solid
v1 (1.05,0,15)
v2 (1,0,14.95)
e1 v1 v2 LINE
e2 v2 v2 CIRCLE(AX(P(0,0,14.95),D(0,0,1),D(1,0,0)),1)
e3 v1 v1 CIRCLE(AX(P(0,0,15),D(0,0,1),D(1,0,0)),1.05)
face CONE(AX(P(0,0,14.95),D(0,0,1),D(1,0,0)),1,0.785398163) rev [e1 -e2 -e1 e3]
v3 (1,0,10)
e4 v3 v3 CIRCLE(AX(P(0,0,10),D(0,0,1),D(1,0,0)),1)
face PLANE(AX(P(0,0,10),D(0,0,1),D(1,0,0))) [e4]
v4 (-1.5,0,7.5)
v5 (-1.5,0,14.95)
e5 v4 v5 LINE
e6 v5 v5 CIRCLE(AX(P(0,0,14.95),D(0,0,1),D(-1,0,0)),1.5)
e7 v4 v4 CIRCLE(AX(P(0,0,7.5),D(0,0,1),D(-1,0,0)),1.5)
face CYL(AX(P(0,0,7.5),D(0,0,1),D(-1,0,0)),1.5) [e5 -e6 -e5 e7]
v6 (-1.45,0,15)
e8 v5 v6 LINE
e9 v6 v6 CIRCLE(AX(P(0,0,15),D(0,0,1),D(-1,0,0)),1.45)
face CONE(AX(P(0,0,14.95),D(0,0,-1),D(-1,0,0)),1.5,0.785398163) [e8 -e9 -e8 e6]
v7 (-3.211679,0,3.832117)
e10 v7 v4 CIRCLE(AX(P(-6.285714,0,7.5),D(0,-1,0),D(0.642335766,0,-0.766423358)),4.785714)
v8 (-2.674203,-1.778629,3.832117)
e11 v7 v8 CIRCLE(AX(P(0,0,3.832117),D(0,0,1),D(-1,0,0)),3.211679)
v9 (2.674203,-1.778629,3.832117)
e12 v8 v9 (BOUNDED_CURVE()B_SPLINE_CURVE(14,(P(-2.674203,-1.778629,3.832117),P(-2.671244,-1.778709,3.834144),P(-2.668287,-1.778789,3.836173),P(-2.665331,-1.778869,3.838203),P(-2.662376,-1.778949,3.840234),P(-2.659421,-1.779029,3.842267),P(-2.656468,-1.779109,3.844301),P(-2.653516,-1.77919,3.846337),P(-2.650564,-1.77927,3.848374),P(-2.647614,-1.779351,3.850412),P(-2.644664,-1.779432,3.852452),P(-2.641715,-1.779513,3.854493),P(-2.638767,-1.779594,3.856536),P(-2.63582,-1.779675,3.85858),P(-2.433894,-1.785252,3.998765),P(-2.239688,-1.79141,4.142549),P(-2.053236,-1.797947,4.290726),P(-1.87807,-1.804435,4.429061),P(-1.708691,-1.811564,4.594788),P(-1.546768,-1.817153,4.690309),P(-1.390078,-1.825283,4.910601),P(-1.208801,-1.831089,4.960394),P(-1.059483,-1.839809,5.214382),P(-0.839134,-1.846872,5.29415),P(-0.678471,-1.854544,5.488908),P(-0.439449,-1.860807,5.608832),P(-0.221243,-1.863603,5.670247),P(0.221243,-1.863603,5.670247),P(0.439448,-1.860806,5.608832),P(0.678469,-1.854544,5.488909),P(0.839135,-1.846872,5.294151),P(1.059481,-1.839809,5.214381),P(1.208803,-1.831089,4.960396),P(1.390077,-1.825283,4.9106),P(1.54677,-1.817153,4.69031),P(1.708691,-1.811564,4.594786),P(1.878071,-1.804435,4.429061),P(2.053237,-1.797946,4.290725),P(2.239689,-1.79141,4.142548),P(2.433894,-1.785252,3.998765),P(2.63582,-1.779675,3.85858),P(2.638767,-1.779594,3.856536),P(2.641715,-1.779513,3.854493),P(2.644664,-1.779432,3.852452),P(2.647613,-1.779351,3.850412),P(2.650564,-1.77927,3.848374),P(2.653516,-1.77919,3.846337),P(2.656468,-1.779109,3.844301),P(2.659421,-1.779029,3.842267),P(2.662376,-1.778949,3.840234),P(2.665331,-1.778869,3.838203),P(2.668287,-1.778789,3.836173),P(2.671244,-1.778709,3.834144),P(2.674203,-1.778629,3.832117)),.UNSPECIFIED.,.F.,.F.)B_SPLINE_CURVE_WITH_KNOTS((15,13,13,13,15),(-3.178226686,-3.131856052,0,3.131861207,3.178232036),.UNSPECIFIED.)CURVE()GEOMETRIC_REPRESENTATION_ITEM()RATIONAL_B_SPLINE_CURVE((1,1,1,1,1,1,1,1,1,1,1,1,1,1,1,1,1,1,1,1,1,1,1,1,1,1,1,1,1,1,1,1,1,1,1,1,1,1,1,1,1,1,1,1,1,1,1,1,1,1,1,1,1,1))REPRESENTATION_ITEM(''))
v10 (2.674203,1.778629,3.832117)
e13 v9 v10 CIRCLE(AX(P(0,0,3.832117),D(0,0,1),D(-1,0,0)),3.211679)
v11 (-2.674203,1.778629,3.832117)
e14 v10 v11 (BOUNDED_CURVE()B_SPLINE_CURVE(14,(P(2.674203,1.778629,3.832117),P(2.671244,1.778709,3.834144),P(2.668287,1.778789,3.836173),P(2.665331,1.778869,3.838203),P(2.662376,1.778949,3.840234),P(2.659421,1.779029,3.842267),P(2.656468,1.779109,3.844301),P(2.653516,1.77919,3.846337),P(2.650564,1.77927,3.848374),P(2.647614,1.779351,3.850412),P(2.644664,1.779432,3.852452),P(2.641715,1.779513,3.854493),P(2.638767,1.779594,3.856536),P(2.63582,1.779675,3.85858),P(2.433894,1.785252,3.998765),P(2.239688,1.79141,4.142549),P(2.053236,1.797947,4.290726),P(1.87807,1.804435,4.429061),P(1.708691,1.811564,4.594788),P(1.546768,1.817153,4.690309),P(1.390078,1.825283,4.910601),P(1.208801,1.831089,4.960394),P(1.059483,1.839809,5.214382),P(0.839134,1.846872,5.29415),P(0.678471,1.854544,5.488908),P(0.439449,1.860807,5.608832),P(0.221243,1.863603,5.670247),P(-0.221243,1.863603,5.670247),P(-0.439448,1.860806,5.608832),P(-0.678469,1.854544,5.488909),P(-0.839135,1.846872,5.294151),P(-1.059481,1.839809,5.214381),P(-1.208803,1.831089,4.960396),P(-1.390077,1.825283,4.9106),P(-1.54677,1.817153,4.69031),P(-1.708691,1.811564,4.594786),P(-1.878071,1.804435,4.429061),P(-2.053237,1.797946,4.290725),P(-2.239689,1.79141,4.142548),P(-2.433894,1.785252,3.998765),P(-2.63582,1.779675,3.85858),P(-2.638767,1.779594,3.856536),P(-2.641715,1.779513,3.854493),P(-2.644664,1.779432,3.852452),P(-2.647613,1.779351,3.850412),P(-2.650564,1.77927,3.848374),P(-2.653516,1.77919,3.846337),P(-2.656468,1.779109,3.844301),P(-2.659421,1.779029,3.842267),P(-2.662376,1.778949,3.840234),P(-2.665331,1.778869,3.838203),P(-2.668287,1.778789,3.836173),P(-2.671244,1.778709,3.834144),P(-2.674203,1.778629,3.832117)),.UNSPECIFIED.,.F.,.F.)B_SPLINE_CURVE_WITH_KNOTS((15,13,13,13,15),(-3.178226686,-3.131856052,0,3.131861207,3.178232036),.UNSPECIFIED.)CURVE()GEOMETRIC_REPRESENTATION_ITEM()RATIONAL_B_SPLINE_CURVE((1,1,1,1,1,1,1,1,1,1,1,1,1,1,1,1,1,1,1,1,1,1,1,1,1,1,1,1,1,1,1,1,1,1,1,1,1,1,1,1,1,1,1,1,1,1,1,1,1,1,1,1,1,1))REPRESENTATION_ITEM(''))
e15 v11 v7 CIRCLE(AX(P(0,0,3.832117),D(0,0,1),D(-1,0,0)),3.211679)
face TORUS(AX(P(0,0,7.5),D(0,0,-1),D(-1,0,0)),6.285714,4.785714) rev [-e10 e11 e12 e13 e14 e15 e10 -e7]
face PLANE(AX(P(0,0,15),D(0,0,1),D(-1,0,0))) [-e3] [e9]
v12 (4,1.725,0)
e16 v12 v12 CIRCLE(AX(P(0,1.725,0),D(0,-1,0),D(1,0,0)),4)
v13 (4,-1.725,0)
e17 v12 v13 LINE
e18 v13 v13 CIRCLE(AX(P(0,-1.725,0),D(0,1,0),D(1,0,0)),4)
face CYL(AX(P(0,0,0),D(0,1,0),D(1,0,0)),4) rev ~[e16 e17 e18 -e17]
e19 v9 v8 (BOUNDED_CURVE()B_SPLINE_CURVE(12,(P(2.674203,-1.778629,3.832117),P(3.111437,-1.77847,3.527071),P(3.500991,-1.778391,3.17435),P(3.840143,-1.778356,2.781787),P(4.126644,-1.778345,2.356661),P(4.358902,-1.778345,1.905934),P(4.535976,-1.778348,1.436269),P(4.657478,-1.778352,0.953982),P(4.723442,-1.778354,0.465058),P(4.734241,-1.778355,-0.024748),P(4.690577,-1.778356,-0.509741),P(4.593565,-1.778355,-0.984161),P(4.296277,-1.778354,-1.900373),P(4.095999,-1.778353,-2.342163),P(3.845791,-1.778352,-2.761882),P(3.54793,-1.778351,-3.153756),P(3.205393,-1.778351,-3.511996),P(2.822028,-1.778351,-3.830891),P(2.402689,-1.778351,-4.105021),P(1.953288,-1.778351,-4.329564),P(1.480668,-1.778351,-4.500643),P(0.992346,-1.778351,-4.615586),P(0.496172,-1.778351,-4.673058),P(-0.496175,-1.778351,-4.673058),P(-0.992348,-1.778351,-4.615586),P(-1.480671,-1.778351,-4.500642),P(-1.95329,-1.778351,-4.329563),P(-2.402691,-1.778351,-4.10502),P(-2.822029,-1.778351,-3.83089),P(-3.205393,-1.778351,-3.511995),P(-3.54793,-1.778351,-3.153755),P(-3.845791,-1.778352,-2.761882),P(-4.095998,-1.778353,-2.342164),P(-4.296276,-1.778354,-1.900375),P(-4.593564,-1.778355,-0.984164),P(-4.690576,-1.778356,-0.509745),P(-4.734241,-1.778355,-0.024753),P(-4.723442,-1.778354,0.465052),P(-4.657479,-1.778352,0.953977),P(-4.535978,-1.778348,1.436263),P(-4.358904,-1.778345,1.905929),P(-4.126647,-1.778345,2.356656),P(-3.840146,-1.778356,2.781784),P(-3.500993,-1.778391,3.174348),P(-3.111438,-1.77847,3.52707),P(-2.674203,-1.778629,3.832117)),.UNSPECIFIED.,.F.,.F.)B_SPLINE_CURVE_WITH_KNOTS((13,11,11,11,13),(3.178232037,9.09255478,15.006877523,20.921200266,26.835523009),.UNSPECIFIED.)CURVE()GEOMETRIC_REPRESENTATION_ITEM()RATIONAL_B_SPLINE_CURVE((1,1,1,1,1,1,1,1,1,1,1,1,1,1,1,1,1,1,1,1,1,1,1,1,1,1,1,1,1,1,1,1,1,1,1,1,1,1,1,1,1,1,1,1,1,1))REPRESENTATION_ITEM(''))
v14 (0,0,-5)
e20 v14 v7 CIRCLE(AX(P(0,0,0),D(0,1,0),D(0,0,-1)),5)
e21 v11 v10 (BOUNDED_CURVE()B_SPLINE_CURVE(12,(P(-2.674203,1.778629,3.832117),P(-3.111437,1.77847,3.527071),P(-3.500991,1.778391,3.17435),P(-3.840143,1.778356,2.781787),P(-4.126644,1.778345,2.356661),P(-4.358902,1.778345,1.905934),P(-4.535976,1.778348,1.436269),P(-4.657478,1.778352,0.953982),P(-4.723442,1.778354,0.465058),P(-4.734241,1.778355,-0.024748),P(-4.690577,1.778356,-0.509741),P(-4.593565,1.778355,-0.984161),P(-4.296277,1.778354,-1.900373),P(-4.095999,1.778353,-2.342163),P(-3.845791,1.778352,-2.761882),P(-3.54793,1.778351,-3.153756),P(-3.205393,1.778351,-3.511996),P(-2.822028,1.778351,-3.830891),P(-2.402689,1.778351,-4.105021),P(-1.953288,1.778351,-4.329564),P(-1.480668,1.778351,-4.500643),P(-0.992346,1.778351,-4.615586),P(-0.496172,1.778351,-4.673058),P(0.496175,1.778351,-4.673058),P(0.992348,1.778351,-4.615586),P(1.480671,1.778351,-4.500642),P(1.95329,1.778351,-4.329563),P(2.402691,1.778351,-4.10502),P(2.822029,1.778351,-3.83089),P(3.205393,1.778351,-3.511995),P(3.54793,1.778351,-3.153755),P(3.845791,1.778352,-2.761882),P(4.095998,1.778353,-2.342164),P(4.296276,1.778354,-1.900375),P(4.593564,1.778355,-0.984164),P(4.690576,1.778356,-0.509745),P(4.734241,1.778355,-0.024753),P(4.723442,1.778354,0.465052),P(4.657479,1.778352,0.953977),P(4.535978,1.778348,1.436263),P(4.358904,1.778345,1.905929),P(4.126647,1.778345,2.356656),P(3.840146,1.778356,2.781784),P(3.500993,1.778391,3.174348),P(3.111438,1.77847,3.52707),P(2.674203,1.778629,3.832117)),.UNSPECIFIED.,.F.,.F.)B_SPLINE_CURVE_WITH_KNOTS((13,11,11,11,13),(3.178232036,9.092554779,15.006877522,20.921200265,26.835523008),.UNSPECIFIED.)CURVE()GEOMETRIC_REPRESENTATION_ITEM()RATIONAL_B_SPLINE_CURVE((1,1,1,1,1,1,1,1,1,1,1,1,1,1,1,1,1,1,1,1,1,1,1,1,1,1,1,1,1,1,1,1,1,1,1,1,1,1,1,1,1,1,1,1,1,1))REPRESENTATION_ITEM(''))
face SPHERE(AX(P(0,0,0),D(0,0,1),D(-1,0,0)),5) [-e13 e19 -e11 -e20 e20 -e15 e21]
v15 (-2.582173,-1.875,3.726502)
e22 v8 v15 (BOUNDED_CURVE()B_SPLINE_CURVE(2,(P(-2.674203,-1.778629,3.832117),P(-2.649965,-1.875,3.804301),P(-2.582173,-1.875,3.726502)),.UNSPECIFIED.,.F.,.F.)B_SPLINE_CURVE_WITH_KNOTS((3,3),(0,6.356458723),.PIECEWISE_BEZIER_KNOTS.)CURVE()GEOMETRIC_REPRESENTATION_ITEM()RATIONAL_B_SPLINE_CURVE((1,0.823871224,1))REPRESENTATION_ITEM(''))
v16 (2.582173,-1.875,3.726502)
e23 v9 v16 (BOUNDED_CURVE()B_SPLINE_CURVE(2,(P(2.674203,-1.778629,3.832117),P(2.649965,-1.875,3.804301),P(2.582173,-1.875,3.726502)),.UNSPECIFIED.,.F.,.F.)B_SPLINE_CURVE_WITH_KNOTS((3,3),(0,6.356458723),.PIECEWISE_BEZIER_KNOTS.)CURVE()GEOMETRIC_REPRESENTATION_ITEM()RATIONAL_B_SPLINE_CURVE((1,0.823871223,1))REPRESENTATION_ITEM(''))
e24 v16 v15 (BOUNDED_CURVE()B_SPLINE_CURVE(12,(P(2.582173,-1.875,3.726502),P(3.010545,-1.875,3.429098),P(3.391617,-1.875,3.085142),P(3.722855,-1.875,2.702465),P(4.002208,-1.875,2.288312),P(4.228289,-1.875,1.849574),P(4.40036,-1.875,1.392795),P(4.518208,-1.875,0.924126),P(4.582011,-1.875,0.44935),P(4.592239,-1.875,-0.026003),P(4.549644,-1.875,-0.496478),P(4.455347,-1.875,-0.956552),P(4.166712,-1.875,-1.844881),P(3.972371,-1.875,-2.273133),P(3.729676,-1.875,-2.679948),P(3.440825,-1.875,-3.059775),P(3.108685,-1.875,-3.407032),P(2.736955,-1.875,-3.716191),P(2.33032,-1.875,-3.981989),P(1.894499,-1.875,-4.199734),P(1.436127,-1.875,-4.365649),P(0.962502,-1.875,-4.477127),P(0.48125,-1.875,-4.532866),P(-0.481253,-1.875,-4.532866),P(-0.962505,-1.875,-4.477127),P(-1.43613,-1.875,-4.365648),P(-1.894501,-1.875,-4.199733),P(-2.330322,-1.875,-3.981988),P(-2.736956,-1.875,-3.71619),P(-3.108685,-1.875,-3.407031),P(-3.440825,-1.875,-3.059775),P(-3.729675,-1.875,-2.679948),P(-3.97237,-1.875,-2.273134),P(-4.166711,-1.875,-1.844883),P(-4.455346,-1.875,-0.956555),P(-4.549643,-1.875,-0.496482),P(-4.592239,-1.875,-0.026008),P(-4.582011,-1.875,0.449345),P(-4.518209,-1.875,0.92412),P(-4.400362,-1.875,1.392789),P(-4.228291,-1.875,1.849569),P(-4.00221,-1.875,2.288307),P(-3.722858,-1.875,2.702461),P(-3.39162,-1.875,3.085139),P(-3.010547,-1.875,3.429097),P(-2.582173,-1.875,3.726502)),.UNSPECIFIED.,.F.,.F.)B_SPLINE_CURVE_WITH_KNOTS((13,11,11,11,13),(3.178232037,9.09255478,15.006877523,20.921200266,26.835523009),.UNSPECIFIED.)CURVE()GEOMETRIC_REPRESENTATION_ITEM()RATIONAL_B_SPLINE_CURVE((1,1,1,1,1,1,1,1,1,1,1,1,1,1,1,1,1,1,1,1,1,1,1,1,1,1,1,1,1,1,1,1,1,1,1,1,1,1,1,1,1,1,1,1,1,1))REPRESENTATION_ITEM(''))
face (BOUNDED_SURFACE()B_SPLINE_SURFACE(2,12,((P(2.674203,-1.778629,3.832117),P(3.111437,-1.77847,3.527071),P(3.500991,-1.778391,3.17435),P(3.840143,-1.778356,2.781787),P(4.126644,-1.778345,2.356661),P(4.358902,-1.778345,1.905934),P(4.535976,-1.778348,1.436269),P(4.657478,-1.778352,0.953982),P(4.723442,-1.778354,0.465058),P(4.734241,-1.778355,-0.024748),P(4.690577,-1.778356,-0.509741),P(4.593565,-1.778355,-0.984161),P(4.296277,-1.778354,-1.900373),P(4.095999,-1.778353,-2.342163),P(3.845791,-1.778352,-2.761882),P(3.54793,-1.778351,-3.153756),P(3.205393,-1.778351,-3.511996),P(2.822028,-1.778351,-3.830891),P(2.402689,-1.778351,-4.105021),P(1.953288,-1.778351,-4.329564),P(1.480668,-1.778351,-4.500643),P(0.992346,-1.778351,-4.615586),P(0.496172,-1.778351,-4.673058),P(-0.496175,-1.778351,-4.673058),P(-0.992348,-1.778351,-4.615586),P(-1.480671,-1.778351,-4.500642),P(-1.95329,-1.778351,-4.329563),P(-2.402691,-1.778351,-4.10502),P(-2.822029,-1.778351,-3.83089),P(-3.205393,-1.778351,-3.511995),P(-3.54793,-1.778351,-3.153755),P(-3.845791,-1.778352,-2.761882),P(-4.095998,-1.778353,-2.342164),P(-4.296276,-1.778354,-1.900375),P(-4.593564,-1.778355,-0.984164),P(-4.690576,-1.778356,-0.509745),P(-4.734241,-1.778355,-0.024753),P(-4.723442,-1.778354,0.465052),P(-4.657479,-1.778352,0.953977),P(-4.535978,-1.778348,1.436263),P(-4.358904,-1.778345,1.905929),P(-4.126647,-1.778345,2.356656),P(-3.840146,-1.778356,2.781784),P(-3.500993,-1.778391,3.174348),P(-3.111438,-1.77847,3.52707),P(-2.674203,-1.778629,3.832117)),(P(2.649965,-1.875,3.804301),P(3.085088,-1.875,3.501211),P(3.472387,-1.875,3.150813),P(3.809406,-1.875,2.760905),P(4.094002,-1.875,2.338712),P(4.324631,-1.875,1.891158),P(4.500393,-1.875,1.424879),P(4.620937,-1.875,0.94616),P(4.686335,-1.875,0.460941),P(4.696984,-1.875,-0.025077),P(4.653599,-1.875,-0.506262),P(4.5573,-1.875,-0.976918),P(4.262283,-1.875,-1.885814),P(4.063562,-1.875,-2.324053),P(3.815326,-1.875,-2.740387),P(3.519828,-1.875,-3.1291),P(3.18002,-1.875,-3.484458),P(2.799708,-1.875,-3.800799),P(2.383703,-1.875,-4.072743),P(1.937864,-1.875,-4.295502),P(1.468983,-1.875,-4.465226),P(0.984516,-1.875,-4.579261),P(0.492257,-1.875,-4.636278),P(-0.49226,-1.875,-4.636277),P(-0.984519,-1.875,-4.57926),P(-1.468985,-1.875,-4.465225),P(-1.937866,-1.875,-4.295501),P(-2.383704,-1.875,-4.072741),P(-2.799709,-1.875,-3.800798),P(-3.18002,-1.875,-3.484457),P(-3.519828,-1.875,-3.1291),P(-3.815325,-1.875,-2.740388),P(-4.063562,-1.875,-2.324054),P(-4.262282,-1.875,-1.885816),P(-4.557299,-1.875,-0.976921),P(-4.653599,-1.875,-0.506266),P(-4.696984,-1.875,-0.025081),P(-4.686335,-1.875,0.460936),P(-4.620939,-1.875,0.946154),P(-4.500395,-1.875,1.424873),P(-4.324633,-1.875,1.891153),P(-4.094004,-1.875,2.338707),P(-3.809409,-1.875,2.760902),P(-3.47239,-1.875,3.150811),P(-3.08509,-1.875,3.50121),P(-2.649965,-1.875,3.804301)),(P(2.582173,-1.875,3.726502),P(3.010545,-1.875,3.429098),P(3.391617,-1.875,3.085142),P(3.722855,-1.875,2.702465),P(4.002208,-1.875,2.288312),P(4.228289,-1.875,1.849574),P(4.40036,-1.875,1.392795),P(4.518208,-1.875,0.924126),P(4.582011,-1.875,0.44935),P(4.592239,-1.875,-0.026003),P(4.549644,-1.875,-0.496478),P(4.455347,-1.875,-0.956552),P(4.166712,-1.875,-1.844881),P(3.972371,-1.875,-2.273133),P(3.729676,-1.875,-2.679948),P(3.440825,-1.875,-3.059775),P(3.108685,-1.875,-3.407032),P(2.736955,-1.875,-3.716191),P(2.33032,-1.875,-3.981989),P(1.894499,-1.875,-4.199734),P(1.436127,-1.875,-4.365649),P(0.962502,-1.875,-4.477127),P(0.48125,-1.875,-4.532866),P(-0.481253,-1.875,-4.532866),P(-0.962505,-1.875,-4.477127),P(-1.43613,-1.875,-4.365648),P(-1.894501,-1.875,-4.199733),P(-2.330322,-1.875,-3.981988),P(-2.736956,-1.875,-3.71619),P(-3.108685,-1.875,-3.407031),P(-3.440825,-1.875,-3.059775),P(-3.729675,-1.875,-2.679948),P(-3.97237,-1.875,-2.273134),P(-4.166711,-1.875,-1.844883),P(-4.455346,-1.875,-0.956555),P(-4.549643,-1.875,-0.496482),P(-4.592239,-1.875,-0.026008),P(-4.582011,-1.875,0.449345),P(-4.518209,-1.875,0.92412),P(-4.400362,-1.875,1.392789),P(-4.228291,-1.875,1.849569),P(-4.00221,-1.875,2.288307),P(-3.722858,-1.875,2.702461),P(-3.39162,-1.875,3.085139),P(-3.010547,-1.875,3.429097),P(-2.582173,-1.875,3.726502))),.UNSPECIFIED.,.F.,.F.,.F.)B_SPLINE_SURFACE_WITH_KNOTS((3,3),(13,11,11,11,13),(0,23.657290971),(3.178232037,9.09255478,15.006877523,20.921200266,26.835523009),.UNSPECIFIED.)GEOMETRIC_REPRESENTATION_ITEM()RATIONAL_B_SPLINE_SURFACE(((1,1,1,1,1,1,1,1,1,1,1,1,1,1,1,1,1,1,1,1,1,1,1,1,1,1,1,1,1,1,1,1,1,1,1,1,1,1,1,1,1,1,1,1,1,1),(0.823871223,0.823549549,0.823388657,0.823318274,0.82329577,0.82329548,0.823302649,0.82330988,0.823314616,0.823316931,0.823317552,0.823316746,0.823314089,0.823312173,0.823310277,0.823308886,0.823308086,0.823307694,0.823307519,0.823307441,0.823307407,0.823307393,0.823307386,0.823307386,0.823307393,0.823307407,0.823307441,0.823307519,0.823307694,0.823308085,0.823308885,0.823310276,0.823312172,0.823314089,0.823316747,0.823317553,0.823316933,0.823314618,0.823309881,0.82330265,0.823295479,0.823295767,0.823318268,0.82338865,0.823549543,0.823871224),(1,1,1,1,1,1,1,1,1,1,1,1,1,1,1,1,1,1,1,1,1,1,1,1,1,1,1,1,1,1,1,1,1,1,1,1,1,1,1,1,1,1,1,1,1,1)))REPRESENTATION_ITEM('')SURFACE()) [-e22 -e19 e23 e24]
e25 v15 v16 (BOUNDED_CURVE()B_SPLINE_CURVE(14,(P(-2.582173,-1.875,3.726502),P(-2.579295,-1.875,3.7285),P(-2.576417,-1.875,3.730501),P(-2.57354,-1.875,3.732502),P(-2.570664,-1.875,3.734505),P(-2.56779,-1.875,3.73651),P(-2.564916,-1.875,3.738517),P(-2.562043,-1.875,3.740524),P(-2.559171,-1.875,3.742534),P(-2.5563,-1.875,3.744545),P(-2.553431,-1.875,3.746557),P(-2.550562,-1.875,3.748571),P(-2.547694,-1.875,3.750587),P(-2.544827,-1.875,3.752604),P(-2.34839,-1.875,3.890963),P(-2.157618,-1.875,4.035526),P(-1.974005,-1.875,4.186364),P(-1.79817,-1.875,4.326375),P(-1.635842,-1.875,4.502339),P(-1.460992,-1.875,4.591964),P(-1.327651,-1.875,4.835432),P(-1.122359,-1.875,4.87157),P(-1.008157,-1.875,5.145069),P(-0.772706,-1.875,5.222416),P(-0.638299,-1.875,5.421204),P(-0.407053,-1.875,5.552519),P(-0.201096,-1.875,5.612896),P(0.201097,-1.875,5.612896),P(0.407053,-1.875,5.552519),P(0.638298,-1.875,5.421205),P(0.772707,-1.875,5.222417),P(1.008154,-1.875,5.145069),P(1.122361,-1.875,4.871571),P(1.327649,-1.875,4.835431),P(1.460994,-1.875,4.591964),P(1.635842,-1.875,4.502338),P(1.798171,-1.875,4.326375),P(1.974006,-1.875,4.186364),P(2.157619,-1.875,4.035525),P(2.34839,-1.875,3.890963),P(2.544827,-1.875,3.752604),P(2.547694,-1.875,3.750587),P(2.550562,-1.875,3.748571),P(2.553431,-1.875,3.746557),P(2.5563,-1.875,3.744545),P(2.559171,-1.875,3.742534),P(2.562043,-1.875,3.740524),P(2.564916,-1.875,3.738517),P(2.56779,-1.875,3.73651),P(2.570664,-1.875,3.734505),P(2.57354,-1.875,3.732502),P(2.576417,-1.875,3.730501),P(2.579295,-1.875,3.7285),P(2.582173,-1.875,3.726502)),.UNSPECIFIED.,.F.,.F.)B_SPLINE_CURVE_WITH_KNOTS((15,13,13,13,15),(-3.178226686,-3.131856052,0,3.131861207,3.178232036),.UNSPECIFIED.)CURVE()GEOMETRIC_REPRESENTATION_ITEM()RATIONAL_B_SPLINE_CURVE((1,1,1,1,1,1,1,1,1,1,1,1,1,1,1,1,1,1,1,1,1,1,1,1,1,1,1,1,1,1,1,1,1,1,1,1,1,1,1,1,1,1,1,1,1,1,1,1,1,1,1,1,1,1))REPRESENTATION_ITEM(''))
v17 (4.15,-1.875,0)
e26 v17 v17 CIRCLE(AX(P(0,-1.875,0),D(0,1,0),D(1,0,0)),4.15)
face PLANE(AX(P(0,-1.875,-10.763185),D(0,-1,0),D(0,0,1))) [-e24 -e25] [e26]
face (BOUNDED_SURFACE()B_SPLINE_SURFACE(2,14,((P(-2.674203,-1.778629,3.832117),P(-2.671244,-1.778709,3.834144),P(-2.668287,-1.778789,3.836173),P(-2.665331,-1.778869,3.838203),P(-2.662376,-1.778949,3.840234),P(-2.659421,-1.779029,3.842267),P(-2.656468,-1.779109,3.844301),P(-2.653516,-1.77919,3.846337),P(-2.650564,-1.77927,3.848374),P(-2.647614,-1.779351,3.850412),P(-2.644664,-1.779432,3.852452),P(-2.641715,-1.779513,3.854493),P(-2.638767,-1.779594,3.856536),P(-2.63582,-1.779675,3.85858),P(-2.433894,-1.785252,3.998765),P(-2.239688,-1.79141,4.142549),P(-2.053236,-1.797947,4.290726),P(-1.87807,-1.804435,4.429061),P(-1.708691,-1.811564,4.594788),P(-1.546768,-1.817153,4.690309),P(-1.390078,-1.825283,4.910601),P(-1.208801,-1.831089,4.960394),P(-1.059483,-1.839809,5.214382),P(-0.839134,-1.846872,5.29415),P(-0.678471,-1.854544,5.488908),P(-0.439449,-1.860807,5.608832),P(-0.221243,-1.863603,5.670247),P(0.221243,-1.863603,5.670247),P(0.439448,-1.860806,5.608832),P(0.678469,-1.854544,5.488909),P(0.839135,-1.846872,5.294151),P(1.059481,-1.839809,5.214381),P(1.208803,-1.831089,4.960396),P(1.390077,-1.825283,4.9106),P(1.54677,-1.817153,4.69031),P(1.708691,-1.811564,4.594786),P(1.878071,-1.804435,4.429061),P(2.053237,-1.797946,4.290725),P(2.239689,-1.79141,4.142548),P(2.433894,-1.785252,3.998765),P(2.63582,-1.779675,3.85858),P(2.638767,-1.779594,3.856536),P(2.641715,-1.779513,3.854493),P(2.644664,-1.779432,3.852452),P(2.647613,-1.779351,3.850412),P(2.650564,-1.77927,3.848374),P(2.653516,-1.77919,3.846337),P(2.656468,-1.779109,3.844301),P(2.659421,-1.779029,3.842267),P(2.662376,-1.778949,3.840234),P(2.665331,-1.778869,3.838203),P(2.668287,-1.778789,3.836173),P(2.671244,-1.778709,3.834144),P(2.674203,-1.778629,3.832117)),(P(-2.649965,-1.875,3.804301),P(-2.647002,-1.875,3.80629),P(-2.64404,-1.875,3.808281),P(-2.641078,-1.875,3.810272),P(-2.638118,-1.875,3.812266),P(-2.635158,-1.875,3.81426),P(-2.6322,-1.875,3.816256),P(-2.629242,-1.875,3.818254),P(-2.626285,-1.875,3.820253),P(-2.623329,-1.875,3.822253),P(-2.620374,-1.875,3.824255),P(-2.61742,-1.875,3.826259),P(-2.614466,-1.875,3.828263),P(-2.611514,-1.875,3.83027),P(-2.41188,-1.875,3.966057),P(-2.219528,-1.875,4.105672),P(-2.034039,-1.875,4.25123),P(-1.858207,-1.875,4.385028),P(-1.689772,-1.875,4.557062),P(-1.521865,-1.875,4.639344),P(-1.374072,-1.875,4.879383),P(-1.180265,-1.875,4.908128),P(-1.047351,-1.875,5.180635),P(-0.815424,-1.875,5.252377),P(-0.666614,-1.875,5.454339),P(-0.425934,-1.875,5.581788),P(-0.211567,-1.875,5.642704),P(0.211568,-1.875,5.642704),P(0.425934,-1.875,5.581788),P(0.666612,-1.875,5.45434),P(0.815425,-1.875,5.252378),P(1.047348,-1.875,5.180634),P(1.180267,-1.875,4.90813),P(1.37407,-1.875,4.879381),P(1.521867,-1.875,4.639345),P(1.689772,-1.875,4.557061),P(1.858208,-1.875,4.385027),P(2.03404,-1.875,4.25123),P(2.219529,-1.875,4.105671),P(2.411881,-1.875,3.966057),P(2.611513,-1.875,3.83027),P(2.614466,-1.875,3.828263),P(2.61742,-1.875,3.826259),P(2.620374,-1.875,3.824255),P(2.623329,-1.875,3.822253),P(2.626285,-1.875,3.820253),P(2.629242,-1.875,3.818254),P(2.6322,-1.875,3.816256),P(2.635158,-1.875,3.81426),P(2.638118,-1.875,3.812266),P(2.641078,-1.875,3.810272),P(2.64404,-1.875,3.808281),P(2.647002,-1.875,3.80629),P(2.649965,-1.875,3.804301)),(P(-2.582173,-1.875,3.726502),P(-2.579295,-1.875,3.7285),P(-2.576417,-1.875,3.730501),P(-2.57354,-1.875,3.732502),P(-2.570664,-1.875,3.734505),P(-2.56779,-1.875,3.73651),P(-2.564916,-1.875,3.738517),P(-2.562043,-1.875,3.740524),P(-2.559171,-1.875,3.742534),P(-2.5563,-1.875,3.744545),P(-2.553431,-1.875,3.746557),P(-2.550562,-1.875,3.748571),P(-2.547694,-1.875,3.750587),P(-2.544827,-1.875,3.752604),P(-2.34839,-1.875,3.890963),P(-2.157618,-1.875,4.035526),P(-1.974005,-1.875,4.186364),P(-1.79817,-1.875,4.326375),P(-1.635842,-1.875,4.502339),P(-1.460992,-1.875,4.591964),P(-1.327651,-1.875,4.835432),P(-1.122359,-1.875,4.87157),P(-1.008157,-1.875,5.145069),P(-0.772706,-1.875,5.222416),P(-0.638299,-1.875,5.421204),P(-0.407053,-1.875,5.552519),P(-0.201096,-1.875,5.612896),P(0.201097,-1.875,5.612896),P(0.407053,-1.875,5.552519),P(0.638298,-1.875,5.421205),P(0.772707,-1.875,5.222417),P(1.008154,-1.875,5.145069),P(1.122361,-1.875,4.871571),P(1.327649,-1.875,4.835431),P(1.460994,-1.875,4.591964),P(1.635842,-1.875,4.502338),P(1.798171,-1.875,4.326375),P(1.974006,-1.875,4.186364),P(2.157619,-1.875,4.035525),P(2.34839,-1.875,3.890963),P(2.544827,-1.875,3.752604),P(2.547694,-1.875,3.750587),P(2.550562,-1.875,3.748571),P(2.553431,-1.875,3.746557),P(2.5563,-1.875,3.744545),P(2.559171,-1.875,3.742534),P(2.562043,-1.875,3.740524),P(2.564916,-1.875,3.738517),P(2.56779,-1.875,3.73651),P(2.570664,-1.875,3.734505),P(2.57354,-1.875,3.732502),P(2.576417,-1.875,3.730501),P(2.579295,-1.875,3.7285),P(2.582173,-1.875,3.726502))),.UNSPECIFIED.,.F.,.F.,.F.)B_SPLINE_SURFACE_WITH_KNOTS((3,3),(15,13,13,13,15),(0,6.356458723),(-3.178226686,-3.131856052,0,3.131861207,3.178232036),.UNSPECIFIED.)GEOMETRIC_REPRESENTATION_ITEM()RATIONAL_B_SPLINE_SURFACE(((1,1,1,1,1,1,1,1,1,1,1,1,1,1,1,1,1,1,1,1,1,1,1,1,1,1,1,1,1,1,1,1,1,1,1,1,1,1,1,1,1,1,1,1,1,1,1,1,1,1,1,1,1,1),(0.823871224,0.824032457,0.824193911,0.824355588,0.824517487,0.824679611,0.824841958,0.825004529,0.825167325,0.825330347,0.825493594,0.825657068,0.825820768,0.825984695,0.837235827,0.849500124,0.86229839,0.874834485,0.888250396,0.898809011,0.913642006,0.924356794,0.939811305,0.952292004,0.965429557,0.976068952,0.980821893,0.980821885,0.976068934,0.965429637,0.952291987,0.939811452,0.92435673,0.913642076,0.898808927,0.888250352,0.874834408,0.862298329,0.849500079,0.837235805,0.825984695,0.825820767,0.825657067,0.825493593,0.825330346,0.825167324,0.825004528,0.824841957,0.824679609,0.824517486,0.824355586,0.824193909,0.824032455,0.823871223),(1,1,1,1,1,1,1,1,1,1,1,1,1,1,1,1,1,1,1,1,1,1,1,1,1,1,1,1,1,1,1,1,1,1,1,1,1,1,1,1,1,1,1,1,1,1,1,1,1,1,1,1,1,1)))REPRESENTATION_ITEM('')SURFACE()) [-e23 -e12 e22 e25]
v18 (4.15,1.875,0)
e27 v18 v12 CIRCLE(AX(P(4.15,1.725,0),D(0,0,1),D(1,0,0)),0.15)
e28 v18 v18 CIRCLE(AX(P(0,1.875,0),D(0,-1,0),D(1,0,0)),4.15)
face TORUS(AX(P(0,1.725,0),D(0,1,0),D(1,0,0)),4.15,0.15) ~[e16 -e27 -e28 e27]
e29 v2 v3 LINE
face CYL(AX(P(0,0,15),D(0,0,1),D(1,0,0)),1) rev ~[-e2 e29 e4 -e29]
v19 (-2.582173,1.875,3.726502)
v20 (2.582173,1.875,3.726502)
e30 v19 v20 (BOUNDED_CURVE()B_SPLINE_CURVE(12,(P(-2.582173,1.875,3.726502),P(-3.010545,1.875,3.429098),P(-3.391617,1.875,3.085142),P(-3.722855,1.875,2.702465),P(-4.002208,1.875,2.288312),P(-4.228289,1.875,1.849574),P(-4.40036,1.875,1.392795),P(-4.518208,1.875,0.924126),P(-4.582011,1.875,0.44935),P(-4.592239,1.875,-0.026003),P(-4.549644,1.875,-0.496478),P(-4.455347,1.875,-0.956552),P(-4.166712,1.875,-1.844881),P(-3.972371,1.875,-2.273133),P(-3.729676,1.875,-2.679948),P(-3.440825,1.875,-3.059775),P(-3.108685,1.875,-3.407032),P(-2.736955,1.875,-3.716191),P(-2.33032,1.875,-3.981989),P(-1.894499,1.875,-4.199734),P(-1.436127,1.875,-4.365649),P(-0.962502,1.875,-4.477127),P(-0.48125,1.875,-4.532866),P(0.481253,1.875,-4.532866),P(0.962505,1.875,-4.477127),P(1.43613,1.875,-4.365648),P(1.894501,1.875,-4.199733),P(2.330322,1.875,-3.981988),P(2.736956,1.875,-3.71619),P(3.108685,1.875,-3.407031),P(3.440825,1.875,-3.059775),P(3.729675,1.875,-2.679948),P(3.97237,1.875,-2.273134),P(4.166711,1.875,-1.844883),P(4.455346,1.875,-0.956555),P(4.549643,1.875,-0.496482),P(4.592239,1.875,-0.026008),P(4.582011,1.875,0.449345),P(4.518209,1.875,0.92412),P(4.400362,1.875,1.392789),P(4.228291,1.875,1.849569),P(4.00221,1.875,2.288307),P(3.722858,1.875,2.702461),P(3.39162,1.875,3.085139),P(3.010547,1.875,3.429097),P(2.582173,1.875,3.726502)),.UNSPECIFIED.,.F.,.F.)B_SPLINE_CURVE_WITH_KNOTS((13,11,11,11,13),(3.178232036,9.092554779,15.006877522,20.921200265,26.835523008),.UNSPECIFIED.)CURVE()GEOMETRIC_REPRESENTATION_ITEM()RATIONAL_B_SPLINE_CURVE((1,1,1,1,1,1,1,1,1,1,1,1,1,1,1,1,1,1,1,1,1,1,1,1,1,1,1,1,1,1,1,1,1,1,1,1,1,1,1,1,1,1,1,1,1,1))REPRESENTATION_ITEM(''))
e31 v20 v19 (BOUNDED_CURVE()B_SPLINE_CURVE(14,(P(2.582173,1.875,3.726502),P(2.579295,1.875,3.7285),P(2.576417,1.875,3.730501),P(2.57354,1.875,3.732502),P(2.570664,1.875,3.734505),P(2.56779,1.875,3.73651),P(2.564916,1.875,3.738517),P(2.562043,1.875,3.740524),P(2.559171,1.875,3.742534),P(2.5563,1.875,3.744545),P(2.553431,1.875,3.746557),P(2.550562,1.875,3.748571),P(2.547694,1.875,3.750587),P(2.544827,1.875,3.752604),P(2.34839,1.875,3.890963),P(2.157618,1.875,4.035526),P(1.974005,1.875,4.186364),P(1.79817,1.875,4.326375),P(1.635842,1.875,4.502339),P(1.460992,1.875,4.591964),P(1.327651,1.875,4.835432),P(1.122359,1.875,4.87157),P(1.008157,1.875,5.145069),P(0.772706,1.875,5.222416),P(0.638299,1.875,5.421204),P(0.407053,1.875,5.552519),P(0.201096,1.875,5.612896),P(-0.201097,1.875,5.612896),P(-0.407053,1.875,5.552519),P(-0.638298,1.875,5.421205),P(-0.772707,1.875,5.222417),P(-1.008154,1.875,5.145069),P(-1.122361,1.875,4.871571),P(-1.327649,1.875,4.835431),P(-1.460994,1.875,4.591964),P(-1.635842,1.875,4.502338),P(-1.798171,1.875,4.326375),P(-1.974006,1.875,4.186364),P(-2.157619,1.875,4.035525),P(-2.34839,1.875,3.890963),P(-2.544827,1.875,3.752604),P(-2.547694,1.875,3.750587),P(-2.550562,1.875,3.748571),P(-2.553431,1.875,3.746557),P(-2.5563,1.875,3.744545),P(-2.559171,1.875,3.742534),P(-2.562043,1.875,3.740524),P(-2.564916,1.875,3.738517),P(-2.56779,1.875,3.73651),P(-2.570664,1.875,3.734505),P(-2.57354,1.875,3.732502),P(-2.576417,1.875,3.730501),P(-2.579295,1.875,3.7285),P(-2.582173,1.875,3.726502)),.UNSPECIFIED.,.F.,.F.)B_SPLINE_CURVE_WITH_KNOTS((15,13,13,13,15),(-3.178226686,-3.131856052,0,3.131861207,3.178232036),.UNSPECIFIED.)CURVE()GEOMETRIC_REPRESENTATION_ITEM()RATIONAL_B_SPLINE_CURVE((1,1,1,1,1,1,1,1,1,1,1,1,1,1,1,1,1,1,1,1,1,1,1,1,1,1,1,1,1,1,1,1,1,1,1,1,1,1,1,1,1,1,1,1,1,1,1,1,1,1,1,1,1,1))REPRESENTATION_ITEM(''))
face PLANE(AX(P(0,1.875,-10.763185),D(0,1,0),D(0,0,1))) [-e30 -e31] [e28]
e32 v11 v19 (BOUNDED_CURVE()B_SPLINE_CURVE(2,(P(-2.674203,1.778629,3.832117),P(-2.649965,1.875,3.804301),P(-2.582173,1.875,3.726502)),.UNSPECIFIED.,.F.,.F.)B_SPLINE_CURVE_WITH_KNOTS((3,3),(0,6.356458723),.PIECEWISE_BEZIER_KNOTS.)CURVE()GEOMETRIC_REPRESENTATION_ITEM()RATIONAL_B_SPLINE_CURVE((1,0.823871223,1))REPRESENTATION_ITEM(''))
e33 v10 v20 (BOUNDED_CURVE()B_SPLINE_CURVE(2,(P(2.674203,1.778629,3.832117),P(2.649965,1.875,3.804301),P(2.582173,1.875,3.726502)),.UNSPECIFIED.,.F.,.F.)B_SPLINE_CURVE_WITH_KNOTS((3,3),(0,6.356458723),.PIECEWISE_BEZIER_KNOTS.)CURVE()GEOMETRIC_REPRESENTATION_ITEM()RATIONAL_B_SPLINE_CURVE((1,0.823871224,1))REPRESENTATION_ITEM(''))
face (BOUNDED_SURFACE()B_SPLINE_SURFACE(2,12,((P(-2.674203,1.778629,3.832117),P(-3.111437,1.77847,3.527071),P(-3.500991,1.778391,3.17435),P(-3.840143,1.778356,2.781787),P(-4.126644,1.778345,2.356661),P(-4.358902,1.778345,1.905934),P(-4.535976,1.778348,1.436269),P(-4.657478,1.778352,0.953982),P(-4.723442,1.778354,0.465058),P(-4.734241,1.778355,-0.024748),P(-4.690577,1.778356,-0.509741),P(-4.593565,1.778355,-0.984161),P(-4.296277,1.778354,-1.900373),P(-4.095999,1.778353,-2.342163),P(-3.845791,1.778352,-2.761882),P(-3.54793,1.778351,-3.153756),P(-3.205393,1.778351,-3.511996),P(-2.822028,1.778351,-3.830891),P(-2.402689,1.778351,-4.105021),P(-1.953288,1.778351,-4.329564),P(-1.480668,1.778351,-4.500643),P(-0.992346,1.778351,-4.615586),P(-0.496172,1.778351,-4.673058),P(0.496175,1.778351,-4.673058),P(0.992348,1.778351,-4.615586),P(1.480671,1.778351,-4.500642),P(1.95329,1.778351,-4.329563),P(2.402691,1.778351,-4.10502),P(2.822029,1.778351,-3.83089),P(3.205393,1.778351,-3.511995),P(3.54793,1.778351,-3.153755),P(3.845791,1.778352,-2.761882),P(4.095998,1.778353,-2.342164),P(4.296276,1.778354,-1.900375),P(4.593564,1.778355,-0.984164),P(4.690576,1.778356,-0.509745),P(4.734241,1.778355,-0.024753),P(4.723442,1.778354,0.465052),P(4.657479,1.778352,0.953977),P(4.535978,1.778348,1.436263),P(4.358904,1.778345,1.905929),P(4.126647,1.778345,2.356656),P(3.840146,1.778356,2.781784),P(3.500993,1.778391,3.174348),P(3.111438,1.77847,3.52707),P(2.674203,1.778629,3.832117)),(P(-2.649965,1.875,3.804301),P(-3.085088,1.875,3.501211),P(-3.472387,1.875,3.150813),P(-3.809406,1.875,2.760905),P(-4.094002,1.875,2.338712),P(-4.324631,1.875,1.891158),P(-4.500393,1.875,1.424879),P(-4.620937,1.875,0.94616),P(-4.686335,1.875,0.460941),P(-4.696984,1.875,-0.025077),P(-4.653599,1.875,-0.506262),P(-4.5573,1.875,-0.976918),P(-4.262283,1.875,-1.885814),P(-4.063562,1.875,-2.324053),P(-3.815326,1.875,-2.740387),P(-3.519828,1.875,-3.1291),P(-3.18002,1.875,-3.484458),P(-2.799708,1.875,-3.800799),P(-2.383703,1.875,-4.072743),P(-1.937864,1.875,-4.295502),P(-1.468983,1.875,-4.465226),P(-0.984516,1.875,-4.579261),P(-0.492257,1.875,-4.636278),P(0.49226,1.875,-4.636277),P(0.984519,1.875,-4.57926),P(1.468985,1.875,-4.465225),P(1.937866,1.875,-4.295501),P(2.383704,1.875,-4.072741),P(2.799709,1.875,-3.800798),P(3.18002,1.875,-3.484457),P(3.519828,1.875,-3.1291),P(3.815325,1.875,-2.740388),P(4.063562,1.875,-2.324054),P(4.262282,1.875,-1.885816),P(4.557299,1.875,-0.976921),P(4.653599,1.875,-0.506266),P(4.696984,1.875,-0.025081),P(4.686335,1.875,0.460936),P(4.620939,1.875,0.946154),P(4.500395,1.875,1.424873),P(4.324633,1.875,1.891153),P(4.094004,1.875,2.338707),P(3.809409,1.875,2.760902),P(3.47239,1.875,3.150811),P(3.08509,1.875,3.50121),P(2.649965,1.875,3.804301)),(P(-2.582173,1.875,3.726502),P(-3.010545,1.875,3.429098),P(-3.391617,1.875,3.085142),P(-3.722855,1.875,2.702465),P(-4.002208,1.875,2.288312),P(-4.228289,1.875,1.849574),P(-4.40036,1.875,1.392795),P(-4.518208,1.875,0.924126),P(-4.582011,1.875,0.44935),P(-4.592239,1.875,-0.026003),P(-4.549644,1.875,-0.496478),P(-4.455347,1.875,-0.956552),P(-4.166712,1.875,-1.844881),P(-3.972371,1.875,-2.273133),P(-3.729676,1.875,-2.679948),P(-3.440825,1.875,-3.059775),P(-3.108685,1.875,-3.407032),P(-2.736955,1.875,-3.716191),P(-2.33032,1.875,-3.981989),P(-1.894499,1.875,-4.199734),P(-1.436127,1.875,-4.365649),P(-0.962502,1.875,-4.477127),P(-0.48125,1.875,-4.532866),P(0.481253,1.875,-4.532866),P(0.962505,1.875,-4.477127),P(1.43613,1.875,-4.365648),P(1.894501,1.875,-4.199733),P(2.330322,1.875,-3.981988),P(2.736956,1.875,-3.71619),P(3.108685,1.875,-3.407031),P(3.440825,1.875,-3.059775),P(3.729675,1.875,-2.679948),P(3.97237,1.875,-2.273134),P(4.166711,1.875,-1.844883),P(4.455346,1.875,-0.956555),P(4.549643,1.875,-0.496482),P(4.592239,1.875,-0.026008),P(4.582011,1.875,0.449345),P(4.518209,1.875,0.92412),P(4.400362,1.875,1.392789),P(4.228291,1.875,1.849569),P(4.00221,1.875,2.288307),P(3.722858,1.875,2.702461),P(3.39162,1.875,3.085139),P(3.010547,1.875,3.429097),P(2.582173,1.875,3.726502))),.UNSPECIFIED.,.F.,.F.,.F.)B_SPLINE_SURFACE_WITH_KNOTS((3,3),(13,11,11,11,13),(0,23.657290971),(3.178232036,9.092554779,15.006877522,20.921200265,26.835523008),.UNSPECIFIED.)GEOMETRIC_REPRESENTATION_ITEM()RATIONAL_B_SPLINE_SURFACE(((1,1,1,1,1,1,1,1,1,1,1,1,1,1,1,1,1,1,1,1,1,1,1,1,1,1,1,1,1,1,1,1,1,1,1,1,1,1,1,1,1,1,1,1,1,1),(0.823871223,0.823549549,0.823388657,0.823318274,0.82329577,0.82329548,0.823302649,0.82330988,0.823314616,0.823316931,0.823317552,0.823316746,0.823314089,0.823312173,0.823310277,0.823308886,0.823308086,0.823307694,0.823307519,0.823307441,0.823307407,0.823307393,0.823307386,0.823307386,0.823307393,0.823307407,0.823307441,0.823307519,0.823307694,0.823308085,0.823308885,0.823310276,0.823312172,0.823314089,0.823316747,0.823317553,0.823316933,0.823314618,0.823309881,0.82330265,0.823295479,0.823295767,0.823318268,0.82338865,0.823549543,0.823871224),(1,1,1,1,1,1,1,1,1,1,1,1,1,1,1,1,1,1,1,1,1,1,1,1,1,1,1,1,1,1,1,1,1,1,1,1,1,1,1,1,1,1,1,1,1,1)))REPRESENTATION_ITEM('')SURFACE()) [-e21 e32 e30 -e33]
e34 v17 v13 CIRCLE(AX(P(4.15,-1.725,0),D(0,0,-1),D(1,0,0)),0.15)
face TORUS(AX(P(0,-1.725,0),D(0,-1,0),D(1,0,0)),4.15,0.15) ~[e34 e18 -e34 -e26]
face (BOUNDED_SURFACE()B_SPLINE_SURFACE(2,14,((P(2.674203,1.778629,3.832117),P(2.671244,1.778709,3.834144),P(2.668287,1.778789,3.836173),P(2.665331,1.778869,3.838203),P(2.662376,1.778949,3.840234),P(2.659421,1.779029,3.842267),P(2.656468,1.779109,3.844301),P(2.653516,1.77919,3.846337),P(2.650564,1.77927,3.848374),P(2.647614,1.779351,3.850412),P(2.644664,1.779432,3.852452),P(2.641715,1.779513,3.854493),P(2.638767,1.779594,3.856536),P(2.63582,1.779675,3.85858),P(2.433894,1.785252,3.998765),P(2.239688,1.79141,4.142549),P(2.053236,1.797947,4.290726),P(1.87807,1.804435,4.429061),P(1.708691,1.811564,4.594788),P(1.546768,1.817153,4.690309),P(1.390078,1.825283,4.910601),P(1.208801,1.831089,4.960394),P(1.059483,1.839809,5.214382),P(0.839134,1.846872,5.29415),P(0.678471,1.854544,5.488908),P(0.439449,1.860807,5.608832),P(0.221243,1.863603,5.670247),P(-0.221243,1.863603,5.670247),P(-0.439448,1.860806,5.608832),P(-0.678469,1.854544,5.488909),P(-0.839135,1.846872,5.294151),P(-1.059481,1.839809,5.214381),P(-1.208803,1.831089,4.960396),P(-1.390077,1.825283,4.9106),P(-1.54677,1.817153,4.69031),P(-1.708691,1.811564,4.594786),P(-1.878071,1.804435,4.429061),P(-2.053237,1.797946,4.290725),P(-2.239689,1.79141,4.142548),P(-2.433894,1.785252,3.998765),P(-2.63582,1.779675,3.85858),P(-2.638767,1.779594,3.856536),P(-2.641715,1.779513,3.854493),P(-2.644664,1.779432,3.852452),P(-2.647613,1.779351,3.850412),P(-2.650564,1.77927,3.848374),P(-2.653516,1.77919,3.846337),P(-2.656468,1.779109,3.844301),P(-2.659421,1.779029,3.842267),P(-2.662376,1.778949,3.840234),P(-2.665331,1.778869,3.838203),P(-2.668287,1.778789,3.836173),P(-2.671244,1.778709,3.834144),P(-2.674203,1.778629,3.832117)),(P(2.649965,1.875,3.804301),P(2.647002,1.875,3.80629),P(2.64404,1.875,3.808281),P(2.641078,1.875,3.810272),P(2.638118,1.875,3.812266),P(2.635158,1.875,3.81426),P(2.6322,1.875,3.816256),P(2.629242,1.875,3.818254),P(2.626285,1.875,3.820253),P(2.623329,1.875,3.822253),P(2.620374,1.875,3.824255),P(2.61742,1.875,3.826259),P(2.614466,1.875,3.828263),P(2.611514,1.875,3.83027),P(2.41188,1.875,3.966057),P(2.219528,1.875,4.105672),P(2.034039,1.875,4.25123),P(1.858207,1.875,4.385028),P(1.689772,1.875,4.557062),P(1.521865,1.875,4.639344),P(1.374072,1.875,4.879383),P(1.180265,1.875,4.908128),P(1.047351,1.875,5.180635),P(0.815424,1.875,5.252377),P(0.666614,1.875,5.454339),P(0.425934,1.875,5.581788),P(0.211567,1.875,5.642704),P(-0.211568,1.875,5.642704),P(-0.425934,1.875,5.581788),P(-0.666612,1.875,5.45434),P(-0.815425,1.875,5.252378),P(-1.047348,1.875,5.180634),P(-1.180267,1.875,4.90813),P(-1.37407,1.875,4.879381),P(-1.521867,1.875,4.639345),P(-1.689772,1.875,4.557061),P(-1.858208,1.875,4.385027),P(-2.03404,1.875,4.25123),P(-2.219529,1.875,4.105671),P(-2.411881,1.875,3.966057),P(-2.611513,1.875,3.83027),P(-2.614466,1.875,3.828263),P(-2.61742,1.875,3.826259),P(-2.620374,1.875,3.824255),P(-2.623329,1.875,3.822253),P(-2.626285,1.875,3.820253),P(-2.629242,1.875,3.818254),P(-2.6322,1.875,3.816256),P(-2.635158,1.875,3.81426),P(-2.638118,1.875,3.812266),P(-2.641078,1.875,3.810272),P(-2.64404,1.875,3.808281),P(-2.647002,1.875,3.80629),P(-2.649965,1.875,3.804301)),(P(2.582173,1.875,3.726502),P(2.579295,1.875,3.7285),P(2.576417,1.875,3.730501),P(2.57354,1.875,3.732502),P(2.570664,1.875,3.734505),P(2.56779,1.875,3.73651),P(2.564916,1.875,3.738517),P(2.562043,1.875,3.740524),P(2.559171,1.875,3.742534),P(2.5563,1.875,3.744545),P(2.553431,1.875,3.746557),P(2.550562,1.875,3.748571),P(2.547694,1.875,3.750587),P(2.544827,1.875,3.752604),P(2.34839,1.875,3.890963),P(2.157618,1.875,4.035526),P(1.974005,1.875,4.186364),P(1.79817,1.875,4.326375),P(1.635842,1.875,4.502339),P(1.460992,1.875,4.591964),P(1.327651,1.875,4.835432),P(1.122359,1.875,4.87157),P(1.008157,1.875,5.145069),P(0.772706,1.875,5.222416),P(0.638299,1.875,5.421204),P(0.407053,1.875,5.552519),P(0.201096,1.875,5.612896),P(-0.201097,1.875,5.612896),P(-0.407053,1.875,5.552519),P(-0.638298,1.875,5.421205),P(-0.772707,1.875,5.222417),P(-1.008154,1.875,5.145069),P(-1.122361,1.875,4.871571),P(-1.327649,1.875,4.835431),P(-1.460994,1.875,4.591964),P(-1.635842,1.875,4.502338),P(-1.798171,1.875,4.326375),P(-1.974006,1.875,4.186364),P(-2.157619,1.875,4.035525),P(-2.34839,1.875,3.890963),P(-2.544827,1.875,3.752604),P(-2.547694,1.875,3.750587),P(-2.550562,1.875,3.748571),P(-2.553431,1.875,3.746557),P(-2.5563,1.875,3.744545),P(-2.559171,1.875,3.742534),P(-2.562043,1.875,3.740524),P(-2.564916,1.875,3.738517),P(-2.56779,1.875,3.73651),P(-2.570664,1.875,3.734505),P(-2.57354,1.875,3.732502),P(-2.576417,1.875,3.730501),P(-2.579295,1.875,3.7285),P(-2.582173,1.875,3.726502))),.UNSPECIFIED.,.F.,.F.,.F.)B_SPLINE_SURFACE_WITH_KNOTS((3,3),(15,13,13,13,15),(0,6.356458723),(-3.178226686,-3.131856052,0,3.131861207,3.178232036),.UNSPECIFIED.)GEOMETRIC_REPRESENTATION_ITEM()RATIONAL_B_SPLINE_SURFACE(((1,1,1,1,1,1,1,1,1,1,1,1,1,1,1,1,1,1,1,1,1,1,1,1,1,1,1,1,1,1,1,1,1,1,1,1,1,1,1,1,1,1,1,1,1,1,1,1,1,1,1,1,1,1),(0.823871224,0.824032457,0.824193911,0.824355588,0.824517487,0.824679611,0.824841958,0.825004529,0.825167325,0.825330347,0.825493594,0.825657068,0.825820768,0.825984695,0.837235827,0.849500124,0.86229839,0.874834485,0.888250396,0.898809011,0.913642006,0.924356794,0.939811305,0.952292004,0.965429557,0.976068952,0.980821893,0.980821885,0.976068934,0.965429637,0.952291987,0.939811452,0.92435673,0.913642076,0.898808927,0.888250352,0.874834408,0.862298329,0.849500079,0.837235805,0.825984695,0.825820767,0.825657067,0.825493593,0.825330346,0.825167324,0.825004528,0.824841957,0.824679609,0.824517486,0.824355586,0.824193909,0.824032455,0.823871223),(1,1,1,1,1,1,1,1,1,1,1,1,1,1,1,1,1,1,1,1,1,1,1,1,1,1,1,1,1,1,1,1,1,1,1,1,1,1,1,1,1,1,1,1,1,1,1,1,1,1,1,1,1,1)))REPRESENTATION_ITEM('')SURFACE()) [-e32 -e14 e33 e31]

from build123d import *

# Parameters (mm, degrees)
CUT_EXTRUDE1_DEPTH      = 10
CUT_EXTRUDE1_DEPTH_BACK = 10
SKETCH5_R               = 4
CUT_EXTRUDE2_DEPTH      = 10
CUT_EXTRUDE2_DEPTH_BACK = 10
FILLET1_R               = 0.15
FILLET2_R               = 0.15
SKETCH6_R               = 1
CUT_EXTRUDE3_DEPTH      = 5
CHAMFER1_SIZE           = 0.05


with BuildPart() as part:
    # Sketch2 → Revolve1 (revolve)
    with BuildSketch(Plane(origin=(0, 0, 0), x_dir=(1, 0, 0), z_dir=(0, 1, 0))):
        with BuildLine():
            Line((-1.5, -15), (0, -15))
            Line((0, -15), (0, 5))
            ThreePointArc((0, 5), (-4.698967117, 1.708715315), (-3.211678832, -3.832116788))
            ThreePointArc((-3.211678832, -3.832116788), (-1.948980687, -5.476190987), (-1.5, -7.5))
            Line((-1.5, -7.5), (-1.5, -15))
        make_face()
    revolve(axis=Axis((0, 0, -5), (0, 0, 1)))

    # Sketch4 → Cut-Extrude1 (cut, two sides)
    with BuildSketch(Plane(origin=(0, 0, 0), x_dir=(0, 0, -1), z_dir=(1, 0, 0))) as cut_extrude1_sk:
        with BuildLine():
            Line((-21.365147595, 11.777353688), (10.763184779, 11.777353688))
            Line((10.763184779, 11.777353688), (10.763184779, 1.875))
            Line((10.763184779, 1.875), (-5.64662697, 1.875))
            ThreePointArc((-5.64662697, 1.875), (-7.150155967, 2.106415246), (-8.514509151, 2.779239779))
            Line((-8.514509151, 2.779239779), (-21.365147595, 11.777353688))
        make_face()
        with BuildLine():
            Line((-8.514509151, -2.779239779), (-21.365147595, -11.777353688))
            Line((-21.365147595, -11.777353688), (10.763184779, -11.777353688))
            Line((10.763184779, -11.777353688), (10.763184779, -1.875))
            Line((10.763184779, -1.875), (-5.64662697, -1.875))
            ThreePointArc((-5.64662697, -1.875), (-7.150155967, -2.106415246), (-8.514509151, -2.779239779))
        make_face()
    extrude(amount=CUT_EXTRUDE1_DEPTH, mode=Mode.SUBTRACT)
    extrude(cut_extrude1_sk.sketch, amount=-CUT_EXTRUDE1_DEPTH_BACK, mode=Mode.SUBTRACT)

    # Sketch5 → Cut-Extrude2 (cut, two sides)
    with BuildSketch(Plane(origin=(0, 0, 0), x_dir=(1, 0, 0), z_dir=(0, 1, 0))) as cut_extrude2_sk:
        Circle(SKETCH5_R)
    extrude(amount=CUT_EXTRUDE2_DEPTH, mode=Mode.SUBTRACT)
    extrude(cut_extrude2_sk.sketch, amount=-CUT_EXTRUDE2_DEPTH_BACK, mode=Mode.SUBTRACT)

    # Fillet1
    fillet1_edges = [part.edges().sort_by_distance(p)[0] for p in [
        (1e-09, -1.875, 5.642942998),
        (-1e-09, 1.875, 5.642942998),
        (0, 1.875, -4.635124054),
        (0, -1.875, -4.635124054),
        (-4, 1.875, 0),
    ]]
    fillet(fillet1_edges, radius=FILLET1_R)

    # Fillet2
    fillet2_edges = [part.edges().sort_by_distance(p)[0] for p in [
        (-4, -1.875, 0),
    ]]
    fillet(fillet2_edges, radius=FILLET2_R)

    # Sketch6 → Cut-Extrude3 (cut)
    with BuildSketch(Plane.XY.offset(15)):
        Circle(SKETCH6_R)
    extrude(amount=-CUT_EXTRUDE3_DEPTH, mode=Mode.SUBTRACT)

    # Chamfer1
    chamfer1_edges = [part.edges().sort_by_distance(p)[0] for p in [
        (1.5, 0, 15),
        (-1, 0, 15),
    ]]
    chamfer(chamfer1_edges, length=CHAMFER1_SIZE)


solid = part.part
